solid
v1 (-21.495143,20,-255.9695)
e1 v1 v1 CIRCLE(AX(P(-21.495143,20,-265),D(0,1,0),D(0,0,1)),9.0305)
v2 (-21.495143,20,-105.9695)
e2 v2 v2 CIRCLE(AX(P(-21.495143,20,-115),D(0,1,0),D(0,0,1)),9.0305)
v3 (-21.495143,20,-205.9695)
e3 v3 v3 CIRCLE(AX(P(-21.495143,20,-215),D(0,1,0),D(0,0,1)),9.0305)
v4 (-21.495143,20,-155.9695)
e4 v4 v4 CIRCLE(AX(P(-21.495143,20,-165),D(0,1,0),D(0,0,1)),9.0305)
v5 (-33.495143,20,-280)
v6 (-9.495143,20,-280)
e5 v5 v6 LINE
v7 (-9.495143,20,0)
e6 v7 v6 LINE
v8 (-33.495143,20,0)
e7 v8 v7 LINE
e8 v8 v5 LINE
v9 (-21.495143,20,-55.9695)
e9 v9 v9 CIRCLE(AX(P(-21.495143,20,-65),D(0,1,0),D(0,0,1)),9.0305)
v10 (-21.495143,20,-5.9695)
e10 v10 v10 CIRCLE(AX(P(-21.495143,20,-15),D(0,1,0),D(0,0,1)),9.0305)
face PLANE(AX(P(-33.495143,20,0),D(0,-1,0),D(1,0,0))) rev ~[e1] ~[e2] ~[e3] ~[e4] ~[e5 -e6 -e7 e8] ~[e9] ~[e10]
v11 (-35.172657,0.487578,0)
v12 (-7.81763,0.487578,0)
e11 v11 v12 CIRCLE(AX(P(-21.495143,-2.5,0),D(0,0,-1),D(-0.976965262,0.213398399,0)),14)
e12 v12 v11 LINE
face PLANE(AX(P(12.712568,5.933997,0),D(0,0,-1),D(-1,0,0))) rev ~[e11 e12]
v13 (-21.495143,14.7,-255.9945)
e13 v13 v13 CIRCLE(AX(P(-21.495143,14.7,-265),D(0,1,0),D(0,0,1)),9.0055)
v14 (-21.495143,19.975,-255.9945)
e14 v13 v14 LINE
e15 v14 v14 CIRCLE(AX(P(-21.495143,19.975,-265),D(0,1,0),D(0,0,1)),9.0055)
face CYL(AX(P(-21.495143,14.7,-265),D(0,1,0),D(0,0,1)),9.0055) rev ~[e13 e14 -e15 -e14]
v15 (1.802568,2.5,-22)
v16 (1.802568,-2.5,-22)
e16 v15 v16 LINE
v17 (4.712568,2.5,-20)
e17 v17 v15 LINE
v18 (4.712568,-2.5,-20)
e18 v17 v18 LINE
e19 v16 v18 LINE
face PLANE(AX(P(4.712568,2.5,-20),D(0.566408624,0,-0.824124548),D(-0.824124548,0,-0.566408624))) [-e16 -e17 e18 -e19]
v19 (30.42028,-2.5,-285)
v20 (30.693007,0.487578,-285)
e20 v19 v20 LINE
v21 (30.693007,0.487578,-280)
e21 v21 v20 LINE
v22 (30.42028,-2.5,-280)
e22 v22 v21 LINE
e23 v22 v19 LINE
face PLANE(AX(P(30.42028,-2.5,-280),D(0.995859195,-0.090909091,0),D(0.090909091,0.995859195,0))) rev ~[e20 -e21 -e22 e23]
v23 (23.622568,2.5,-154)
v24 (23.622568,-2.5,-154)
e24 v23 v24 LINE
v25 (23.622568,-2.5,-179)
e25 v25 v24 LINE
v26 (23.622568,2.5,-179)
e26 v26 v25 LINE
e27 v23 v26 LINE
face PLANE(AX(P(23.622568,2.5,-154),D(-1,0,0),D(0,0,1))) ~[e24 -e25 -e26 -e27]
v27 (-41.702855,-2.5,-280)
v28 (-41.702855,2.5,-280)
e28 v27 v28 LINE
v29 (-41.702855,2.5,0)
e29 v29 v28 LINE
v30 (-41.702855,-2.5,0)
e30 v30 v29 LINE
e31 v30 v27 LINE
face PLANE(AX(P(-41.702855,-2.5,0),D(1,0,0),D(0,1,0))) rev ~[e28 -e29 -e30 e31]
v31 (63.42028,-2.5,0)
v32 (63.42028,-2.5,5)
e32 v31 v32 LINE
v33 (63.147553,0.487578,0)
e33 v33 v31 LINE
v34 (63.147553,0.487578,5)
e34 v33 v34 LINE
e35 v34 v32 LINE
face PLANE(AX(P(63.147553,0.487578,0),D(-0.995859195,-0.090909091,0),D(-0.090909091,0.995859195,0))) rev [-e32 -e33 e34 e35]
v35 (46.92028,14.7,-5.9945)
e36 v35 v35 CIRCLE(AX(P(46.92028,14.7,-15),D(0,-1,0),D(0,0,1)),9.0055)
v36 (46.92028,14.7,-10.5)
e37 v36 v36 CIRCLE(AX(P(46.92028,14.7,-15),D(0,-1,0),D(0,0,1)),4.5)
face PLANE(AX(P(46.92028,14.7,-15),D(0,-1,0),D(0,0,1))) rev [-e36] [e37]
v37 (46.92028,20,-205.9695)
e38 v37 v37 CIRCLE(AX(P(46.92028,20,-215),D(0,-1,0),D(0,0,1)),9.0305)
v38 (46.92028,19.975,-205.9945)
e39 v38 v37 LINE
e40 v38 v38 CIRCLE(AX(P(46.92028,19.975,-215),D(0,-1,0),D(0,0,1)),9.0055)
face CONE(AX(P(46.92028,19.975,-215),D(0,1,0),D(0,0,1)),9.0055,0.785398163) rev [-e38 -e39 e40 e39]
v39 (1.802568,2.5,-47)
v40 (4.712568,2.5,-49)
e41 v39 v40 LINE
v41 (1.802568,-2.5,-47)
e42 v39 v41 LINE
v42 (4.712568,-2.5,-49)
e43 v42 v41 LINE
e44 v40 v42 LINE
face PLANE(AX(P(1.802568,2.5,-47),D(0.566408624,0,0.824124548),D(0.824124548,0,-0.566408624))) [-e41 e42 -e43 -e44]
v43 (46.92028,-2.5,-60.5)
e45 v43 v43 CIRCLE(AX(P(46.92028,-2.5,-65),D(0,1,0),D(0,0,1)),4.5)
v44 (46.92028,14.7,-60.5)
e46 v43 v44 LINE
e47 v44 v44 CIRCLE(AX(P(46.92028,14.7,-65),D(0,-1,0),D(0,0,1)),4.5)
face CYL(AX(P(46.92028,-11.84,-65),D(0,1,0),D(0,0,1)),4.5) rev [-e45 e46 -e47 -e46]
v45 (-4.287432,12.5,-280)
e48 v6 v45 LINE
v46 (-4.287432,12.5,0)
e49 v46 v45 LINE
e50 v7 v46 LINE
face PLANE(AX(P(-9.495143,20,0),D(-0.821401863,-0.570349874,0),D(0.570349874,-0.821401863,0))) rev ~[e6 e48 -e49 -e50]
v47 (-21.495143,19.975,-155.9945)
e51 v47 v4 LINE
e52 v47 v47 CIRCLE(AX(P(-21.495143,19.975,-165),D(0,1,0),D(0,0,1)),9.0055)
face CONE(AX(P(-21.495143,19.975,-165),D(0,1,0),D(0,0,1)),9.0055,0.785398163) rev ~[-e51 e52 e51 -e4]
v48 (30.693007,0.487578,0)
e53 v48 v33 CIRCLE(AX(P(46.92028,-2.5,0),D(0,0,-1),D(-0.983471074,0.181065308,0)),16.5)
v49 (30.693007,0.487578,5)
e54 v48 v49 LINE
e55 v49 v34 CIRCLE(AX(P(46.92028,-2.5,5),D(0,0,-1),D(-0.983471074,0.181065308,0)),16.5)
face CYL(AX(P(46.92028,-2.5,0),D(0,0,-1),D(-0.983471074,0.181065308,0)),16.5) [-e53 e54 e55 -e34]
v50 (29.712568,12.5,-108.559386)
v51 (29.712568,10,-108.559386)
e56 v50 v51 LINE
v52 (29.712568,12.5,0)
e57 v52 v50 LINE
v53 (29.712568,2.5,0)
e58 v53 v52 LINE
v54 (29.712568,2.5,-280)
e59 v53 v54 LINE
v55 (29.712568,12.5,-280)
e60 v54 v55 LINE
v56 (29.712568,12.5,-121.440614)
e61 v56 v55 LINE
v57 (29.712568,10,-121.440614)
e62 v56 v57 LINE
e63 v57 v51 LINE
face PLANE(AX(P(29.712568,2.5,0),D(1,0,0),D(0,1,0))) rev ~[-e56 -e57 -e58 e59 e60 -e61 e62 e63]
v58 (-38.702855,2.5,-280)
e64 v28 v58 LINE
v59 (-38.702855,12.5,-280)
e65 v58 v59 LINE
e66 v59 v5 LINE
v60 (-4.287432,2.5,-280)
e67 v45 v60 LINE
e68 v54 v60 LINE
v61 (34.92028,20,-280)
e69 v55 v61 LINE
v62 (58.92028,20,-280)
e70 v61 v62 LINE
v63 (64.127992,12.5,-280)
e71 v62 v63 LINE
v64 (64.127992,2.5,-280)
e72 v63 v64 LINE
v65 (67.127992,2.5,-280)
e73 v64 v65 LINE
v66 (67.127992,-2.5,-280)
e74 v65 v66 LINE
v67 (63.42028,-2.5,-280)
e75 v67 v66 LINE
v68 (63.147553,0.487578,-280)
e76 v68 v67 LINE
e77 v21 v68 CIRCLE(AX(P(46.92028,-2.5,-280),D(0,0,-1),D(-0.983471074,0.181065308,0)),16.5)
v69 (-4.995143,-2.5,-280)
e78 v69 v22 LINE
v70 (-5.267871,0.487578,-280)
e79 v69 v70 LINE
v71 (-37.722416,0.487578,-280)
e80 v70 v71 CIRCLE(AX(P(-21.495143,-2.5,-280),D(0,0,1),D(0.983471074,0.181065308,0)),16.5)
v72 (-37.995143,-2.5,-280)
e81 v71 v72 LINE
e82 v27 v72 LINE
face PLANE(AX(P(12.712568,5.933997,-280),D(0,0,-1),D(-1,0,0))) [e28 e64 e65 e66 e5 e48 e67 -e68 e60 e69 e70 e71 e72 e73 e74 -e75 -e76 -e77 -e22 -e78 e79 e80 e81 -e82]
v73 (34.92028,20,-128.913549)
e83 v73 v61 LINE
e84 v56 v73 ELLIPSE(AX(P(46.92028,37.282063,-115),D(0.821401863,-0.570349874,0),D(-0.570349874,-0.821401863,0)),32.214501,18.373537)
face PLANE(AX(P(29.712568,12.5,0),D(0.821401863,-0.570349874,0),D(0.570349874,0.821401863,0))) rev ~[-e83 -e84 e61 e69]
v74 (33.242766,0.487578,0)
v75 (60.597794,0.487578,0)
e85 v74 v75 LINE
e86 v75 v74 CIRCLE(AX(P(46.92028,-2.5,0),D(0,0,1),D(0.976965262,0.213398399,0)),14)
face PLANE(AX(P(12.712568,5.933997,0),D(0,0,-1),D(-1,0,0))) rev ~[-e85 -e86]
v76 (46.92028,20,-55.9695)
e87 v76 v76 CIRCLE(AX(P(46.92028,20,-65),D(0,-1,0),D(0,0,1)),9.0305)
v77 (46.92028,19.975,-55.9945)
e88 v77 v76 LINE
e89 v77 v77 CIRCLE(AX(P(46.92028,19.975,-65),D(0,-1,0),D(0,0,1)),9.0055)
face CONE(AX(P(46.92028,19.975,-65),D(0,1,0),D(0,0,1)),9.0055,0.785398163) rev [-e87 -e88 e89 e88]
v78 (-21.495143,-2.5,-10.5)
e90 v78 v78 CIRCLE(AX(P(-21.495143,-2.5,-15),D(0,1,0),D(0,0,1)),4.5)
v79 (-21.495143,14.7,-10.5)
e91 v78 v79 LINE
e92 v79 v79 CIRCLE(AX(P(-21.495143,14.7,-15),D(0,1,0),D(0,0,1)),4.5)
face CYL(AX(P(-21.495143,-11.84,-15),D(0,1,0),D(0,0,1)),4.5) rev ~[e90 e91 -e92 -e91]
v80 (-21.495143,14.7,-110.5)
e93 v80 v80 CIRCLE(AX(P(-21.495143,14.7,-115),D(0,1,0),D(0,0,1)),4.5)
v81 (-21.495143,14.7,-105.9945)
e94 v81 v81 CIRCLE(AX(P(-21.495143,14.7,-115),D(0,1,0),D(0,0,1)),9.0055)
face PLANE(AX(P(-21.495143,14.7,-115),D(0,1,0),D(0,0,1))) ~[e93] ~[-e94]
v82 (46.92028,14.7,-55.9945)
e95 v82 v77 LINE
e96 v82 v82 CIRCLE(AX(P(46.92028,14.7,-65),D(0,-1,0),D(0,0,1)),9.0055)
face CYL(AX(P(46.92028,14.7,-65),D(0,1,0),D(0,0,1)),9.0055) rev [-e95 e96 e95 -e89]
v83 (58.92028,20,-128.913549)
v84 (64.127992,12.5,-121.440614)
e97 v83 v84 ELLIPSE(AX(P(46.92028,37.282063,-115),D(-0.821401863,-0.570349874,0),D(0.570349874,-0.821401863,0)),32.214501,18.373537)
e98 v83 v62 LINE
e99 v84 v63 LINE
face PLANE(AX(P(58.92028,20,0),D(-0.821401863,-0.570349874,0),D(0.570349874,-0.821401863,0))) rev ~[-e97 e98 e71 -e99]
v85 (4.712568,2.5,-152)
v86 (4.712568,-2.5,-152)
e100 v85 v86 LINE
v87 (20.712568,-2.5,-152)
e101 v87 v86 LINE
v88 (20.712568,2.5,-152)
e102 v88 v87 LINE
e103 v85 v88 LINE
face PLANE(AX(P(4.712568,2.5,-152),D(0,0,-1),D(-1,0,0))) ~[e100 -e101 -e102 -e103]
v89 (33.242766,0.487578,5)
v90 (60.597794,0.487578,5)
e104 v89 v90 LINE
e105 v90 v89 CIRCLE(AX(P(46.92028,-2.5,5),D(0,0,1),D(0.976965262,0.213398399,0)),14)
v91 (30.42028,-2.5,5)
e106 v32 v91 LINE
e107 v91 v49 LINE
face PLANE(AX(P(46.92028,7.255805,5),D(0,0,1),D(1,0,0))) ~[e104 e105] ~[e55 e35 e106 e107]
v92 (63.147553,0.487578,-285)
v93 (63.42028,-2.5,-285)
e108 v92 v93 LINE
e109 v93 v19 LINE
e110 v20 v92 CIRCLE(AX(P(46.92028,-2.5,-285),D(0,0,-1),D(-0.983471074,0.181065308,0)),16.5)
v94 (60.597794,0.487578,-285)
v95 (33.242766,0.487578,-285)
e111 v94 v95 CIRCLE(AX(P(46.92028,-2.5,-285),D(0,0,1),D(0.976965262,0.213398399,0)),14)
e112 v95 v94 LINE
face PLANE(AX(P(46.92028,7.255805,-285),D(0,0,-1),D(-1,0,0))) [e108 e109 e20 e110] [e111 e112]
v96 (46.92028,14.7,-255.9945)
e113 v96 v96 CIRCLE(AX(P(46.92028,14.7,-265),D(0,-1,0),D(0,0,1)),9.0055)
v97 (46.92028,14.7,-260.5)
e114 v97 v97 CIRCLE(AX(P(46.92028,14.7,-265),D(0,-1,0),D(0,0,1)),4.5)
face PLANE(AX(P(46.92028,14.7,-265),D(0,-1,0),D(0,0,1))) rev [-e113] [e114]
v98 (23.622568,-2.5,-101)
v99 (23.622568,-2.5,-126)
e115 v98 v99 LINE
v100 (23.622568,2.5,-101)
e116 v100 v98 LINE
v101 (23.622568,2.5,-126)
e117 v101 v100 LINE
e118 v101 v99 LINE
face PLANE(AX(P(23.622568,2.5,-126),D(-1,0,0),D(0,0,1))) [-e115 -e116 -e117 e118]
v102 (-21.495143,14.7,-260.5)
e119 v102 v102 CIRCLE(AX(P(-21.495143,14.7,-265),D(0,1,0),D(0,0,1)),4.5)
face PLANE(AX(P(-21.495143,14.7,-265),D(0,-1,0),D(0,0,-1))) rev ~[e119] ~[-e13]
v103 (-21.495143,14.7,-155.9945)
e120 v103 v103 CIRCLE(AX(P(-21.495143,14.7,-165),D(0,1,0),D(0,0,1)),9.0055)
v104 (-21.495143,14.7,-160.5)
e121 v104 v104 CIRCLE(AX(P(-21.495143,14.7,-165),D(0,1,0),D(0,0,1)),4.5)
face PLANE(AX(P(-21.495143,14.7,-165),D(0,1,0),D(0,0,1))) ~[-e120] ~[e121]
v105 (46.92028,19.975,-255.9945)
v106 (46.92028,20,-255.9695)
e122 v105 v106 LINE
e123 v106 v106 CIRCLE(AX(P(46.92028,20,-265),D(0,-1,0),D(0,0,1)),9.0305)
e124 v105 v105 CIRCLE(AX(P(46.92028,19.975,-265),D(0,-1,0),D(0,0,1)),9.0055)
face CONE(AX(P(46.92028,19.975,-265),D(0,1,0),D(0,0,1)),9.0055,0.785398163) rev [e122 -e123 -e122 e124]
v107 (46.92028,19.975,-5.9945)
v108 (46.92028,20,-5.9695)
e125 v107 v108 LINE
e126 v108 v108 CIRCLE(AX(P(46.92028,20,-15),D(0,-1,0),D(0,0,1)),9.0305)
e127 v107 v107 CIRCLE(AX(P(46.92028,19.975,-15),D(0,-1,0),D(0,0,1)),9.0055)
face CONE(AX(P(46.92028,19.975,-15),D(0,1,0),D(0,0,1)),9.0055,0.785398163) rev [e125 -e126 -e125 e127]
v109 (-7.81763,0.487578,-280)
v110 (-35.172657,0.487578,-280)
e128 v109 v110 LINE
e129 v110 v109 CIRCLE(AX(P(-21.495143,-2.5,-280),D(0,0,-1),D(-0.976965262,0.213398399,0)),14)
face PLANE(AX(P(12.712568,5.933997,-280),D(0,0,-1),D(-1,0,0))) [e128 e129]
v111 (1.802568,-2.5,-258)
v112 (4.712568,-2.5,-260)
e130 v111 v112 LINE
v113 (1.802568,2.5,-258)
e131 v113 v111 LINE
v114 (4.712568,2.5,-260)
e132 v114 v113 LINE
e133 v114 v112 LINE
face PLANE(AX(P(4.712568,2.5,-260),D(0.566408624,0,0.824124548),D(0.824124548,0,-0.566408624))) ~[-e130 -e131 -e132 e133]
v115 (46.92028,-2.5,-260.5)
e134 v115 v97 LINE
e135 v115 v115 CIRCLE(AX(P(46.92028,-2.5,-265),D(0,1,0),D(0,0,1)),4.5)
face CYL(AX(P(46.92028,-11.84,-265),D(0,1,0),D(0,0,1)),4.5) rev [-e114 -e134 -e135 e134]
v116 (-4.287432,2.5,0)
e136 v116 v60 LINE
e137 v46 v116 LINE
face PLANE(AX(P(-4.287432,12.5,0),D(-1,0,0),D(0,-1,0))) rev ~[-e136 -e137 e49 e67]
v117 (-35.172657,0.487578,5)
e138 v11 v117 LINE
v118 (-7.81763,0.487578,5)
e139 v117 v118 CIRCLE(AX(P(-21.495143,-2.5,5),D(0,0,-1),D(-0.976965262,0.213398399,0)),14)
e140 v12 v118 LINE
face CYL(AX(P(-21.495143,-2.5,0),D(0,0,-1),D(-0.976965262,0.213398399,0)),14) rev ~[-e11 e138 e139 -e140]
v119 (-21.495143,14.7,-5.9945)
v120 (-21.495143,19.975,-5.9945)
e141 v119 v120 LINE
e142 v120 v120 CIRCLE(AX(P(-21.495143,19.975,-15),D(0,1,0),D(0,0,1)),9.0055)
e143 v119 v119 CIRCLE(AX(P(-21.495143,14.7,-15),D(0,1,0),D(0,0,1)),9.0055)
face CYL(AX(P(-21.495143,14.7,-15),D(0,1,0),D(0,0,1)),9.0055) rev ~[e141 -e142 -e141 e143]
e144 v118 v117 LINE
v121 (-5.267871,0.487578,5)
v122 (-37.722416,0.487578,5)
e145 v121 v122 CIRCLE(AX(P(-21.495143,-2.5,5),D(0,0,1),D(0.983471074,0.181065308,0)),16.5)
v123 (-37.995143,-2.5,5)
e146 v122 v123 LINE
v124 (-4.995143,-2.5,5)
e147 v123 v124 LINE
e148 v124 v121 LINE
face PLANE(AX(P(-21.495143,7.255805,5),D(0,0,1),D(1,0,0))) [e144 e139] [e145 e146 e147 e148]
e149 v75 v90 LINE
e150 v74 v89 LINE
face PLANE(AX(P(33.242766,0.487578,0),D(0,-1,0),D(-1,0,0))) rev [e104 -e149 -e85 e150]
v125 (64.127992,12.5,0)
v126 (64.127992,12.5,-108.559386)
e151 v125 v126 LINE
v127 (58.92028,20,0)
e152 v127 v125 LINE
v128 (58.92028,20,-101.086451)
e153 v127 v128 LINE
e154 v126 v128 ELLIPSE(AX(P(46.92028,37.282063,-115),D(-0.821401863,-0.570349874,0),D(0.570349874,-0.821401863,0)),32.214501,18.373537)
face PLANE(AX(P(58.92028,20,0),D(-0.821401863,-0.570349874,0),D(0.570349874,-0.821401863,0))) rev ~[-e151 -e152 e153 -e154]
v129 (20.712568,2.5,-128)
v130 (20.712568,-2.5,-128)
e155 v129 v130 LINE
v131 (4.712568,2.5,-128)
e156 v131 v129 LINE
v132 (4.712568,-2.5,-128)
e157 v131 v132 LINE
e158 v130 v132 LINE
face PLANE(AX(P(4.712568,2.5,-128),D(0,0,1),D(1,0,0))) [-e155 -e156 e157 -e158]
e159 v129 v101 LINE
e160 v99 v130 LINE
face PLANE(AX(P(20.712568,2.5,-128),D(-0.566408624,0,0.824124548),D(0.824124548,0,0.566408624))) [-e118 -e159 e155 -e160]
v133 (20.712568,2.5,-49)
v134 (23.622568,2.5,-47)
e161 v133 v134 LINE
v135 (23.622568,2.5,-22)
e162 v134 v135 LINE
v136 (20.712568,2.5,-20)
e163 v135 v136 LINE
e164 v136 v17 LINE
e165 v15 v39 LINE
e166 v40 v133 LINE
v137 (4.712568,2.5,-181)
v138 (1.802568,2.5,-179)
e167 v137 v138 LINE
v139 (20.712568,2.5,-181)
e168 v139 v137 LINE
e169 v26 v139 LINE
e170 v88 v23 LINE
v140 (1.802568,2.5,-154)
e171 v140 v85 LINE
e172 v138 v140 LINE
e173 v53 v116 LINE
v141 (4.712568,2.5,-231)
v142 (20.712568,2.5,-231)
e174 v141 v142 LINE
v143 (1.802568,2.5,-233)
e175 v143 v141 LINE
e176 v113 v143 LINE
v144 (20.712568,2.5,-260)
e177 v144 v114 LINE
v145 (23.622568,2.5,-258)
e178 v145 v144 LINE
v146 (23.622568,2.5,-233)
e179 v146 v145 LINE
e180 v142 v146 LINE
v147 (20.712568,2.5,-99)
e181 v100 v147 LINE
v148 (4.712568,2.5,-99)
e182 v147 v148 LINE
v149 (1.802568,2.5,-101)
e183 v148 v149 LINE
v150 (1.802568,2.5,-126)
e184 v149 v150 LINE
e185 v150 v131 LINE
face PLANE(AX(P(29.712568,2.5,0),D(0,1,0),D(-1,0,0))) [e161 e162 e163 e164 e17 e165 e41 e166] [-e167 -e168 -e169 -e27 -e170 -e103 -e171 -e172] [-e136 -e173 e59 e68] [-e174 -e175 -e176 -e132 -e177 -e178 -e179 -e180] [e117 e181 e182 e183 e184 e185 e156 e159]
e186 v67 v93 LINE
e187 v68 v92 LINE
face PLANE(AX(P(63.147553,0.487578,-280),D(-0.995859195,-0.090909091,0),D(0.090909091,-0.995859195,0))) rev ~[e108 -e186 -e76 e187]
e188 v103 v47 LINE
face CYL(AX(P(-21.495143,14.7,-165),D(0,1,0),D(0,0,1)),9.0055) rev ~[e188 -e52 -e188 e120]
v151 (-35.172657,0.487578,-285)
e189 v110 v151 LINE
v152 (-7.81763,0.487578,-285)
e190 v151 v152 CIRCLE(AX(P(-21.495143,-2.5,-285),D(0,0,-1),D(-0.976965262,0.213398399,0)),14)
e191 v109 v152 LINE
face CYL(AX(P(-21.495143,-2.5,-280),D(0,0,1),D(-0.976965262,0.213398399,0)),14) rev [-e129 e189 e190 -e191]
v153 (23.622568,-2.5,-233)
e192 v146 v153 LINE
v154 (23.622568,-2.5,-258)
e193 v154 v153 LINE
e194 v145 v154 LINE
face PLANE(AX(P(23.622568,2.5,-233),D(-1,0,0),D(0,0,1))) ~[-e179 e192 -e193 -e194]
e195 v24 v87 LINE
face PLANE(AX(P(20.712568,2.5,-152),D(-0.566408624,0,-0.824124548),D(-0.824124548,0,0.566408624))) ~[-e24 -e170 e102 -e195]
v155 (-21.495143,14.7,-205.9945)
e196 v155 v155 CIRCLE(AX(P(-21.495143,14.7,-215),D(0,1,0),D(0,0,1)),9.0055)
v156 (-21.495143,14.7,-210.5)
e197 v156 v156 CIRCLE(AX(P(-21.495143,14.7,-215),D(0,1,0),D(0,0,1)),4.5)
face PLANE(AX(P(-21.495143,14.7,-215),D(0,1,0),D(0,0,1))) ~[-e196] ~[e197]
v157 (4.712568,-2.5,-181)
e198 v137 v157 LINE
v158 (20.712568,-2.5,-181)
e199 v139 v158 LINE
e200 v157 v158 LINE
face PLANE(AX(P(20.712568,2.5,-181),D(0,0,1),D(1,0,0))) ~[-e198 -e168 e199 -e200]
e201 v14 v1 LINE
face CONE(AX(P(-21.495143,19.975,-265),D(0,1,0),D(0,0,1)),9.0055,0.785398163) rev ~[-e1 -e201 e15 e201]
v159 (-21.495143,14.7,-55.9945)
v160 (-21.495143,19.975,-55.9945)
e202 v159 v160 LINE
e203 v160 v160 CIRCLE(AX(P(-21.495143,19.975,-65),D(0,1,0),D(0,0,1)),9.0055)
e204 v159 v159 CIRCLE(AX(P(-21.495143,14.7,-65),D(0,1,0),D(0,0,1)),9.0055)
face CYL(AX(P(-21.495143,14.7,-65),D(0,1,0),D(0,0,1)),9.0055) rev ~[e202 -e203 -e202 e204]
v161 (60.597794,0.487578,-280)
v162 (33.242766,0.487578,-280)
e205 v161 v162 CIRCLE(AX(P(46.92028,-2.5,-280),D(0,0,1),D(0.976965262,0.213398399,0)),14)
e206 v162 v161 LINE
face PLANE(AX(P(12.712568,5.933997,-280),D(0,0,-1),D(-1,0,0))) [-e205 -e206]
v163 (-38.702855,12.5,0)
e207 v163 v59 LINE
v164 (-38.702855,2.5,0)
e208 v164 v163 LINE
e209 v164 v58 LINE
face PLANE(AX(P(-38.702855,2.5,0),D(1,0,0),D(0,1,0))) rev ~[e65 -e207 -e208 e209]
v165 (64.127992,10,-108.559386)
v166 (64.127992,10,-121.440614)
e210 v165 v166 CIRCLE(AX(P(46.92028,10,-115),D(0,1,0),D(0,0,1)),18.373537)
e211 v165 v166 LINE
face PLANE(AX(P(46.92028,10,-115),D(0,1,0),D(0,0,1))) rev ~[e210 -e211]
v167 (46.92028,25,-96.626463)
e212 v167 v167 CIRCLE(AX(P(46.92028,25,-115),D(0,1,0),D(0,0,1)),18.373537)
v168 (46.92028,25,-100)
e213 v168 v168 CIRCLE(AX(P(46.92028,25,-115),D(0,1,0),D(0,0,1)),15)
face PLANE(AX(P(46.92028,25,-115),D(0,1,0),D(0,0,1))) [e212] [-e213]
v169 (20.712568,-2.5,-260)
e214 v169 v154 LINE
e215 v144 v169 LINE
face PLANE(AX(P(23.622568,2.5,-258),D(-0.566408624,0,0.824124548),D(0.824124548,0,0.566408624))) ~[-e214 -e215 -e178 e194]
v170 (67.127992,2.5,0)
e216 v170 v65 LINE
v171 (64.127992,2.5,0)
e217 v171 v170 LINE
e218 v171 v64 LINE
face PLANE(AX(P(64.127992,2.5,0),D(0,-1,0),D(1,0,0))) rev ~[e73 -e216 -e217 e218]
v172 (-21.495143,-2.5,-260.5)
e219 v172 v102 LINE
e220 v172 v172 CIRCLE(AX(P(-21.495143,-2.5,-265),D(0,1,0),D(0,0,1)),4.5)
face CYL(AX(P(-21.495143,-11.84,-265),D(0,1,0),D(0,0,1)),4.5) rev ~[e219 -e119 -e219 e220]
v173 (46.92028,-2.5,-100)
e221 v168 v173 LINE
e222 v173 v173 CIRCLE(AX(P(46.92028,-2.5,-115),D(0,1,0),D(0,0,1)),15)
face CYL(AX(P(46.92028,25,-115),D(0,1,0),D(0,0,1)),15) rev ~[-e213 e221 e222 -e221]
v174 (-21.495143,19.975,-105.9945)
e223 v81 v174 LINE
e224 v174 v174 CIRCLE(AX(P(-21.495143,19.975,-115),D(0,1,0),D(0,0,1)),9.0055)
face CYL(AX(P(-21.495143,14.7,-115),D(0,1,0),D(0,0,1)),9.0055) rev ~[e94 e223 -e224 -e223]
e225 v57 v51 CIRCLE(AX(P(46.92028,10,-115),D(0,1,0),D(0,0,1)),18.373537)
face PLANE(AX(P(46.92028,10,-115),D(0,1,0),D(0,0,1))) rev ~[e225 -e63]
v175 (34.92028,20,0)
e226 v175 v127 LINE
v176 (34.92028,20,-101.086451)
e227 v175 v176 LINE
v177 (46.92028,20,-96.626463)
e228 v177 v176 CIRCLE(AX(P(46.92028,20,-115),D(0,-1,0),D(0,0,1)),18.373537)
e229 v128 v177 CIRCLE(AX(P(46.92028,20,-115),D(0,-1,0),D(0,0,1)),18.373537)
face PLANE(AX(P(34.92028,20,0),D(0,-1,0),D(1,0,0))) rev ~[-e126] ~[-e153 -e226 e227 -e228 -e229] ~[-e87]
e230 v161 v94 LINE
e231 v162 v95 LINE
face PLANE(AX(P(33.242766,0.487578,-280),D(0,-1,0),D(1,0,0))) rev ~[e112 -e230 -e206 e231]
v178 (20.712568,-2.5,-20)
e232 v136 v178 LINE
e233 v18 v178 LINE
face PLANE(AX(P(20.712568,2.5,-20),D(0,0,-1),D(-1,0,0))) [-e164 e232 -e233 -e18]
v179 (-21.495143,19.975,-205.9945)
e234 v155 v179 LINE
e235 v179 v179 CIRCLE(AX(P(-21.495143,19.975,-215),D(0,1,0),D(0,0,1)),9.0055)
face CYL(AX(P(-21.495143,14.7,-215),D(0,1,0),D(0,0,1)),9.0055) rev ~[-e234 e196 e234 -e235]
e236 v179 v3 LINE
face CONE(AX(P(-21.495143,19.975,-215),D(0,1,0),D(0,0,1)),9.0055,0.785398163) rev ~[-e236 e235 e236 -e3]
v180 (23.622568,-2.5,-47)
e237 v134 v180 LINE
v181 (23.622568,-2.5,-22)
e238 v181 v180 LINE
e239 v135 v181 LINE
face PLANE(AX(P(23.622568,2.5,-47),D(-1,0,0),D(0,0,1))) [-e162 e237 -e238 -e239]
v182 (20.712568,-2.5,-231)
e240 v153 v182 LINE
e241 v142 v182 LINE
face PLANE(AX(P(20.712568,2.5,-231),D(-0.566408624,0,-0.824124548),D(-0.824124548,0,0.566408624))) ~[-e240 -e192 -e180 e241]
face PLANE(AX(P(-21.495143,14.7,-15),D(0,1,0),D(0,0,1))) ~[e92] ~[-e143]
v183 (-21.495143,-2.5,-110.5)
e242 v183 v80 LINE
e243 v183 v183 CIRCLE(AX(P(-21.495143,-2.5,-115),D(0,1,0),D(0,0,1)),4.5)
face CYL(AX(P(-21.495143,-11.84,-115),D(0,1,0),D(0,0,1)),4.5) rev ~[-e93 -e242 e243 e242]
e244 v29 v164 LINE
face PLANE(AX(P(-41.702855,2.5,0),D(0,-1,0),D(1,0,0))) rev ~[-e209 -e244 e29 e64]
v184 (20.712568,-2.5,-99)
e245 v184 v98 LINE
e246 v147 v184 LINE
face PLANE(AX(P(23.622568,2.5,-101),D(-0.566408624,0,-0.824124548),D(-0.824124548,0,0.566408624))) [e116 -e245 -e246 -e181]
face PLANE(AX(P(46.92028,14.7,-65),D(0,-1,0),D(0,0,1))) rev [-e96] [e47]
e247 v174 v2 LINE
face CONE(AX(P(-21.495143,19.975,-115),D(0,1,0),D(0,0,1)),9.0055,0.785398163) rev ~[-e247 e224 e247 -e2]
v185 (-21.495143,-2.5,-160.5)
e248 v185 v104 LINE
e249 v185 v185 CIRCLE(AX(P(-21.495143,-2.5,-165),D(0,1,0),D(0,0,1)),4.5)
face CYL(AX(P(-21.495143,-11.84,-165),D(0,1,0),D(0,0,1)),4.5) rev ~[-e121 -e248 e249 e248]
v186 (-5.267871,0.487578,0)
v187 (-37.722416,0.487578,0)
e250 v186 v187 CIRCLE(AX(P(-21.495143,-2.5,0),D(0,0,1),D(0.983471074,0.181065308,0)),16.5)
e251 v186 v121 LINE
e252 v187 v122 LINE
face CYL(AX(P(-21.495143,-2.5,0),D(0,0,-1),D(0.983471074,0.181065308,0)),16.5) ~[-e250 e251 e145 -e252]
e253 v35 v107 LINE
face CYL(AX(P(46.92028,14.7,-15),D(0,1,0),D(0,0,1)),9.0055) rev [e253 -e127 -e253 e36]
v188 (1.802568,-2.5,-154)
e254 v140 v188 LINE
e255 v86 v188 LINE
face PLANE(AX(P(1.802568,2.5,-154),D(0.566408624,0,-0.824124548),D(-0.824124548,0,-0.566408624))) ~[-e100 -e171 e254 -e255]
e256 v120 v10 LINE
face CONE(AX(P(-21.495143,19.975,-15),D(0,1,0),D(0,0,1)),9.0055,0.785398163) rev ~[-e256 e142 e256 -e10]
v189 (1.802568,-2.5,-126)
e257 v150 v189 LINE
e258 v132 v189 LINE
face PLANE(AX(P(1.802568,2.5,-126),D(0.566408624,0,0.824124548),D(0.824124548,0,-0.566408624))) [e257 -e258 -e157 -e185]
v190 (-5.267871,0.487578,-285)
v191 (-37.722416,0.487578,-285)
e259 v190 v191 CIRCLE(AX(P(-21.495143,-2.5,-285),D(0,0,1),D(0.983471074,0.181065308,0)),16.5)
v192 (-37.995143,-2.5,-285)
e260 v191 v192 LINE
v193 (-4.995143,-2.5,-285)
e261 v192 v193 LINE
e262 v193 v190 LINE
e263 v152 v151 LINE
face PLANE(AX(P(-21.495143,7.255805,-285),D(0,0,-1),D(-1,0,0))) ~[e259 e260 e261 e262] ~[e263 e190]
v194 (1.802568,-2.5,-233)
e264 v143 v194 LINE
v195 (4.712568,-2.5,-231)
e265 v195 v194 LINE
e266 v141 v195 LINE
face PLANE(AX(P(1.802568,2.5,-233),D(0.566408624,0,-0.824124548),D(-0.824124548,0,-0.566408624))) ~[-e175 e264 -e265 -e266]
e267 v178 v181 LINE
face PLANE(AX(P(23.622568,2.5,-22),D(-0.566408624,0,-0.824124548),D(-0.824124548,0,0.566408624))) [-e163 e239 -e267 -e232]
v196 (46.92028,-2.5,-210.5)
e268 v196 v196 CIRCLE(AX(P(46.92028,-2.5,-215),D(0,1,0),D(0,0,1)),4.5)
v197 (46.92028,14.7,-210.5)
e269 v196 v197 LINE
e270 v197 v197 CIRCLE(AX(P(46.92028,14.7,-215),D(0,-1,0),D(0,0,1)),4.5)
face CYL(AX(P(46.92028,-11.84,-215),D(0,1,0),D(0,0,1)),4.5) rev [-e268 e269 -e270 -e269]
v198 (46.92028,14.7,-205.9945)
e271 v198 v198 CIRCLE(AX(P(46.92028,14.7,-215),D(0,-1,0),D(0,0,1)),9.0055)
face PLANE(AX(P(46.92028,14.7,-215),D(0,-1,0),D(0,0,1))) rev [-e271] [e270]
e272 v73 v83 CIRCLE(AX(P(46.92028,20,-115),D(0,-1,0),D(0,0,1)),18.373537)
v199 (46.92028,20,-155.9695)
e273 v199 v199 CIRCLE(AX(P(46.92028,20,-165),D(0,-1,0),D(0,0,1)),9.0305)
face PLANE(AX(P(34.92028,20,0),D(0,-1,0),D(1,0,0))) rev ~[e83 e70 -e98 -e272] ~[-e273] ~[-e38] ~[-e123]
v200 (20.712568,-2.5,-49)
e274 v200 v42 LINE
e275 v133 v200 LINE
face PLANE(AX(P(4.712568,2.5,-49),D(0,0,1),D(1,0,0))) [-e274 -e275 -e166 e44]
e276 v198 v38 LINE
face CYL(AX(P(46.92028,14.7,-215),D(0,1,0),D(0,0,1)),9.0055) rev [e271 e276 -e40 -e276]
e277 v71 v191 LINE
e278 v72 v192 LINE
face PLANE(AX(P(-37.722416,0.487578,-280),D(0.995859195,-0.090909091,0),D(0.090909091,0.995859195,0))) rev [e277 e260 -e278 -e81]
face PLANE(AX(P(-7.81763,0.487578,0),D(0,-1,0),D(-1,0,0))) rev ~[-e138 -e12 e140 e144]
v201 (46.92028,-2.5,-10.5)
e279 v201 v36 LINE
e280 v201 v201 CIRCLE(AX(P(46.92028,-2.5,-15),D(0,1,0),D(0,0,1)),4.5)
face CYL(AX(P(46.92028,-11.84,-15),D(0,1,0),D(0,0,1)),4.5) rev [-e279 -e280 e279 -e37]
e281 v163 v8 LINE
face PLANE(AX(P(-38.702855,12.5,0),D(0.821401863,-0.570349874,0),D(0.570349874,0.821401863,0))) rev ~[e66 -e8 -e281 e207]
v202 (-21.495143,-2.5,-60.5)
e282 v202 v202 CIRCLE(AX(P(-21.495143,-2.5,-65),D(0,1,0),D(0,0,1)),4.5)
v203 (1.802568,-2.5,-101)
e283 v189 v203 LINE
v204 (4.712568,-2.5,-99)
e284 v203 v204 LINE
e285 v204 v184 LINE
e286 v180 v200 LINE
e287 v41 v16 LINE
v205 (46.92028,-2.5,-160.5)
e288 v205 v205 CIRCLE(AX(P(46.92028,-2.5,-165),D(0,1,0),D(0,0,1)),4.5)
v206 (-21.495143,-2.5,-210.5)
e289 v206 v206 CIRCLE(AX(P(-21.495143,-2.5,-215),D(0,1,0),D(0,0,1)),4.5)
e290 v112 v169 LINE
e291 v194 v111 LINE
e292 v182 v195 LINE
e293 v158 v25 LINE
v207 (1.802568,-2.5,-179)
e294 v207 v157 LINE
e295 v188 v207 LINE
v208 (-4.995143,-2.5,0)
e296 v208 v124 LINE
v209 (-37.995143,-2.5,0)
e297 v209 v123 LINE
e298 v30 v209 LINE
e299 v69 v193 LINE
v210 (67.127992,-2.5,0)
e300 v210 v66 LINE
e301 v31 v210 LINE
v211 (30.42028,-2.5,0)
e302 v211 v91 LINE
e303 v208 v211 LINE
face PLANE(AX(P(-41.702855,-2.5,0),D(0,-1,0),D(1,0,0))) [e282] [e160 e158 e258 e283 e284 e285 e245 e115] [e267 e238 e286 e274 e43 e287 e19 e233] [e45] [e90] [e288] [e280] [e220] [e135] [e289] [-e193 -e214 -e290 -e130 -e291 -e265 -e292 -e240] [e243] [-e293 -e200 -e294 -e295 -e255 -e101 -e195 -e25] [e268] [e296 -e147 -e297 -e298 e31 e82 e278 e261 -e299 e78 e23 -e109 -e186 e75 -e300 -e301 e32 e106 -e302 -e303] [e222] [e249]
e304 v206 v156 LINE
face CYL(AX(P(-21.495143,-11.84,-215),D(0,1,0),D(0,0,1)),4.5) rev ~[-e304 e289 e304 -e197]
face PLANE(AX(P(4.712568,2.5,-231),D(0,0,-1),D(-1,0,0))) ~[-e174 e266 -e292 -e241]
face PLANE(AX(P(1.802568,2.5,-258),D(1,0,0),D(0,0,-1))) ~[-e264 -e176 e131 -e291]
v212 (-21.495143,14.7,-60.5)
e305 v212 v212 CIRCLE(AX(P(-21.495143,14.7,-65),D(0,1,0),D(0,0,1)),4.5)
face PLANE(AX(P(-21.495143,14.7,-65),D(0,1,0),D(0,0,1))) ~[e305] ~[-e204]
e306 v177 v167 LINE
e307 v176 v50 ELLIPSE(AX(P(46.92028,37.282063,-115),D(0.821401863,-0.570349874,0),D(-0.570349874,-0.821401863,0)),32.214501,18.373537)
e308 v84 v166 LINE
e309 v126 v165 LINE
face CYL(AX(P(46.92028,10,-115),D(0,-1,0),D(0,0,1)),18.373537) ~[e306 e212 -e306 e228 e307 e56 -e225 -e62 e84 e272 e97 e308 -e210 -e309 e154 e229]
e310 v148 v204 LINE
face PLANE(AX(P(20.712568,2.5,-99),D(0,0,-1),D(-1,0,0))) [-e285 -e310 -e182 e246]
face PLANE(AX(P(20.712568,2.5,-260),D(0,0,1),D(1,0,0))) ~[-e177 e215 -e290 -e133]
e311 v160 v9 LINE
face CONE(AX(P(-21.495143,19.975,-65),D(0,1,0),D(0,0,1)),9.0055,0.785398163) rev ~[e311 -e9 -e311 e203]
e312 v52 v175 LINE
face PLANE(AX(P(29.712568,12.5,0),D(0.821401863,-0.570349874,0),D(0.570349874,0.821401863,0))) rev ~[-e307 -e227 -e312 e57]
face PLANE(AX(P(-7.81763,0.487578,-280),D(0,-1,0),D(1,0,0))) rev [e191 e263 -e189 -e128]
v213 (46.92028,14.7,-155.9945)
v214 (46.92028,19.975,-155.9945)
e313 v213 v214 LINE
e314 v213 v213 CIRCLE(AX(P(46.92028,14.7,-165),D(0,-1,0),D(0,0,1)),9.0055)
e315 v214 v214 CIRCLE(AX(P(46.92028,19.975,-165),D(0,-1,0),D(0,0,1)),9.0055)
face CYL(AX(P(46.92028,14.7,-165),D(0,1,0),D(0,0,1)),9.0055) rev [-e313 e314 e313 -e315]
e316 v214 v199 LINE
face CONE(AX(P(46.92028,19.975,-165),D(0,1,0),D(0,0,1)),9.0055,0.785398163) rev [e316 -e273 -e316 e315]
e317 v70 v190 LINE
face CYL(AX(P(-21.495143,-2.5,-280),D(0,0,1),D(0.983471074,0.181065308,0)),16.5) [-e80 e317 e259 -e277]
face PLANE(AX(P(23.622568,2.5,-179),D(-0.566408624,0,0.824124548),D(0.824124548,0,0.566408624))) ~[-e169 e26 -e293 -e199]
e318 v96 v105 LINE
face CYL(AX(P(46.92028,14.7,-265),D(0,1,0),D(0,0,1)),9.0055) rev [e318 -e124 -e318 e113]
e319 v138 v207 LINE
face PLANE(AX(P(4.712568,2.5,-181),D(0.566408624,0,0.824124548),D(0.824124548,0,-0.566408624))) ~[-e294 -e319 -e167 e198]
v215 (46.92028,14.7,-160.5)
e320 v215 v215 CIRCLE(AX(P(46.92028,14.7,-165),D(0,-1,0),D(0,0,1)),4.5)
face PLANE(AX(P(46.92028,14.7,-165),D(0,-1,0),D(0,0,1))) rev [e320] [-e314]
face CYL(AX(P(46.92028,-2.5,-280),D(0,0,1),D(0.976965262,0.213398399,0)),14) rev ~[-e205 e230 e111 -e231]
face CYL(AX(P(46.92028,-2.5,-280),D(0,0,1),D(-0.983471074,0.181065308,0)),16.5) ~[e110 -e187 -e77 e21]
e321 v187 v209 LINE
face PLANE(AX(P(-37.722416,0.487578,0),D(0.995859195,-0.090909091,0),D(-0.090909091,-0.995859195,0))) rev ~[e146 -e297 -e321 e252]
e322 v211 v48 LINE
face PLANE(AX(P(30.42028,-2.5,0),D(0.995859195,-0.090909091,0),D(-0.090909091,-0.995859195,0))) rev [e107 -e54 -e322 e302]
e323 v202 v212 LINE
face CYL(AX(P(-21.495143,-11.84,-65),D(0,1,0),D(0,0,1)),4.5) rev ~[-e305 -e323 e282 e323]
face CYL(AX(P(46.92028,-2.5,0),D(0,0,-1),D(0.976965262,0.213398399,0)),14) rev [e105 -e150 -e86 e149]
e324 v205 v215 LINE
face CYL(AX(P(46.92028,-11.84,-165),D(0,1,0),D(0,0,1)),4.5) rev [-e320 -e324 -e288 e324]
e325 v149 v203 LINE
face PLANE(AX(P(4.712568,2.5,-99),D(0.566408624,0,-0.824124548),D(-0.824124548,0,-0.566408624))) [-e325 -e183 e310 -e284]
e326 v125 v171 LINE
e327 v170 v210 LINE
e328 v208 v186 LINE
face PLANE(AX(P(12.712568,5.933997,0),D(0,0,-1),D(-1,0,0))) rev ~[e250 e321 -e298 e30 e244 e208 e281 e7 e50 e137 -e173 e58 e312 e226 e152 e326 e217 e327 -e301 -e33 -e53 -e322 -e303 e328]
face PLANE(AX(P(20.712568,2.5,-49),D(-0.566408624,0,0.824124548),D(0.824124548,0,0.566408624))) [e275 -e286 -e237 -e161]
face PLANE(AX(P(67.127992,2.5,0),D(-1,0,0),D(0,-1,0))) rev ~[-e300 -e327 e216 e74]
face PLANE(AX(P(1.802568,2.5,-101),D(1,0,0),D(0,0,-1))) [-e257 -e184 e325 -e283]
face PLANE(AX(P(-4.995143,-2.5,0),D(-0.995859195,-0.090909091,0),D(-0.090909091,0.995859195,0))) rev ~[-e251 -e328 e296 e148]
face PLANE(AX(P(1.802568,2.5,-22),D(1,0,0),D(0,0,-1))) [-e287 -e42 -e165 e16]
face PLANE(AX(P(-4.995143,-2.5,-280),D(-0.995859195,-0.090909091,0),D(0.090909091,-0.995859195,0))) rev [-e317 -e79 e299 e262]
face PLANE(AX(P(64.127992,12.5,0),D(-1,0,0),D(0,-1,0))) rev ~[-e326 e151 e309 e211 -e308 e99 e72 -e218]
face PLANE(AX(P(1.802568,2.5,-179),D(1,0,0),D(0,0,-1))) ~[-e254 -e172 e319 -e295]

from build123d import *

# Parameters (mm, degrees)
BOSS_EXTRUDE1_DEPTH                         = 280
BOSS_EXTRUDE3_DEPTH                         = 5
MIRROR2_COPY_1_DEPTH                        = 5
CBORE_SLOT_FOR_M8_HEX_HEAD_BOLT1_AT_2_COUNT = 2
CBORE_SLOT_FOR_M8_HEX_HEAD_BOLT1_AT_2_PITCH = 50
CBORE_SLOT_FOR_M8_HEX_HEAD_BOLT1_AT_3_COUNT = 2
CBORE_SLOT_FOR_M8_HEX_HEAD_BOLT1_AT_3_PITCH = 100
CBORE_SLOT_FOR_M8_HEX_HEAD_BOLT1_AT_4_COUNT = 2
CBORE_SLOT_FOR_M8_HEX_HEAD_BOLT1_AT_4_PITCH = 150
CBORE_SLOT_FOR_M8_HEX_HEAD_BOLT1_AT_5_COUNT = 2
CBORE_SLOT_FOR_M8_HEX_HEAD_BOLT1_AT_5_PITCH = 200
CBORE_SLOT_FOR_M8_HEX_HEAD_BOLT1_AT_6_COUNT = 2
CBORE_SLOT_FOR_M8_HEX_HEAD_BOLT1_AT_6_PITCH = 250
BOSS_EXTRUDE4_DEPTH                         = 5
BOSS_EXTRUDE4_DEPTH_BACK                    = 10
SKETCH12_R                                  = 18.373536693
SKETCH14_R                                  = 15
CUT_EXTRUDE1_DEPTH                          = 28
CUT_EXTRUDE2_DEPTH                          = 294.662080045


with BuildPart() as part:
    # Sketch4 → Boss-Extrude1 (new body)
    with BuildSketch(Plane.XY):
        Polygon((-41.702855028, 2.5), (-38.702855028, 2.5), (-38.702855028, 12.5), (-33.495143371, 20), (-9.495143371, 20), (-4.287431713, 12.5), (-4.287431713, 2.5), (-1.287431713, 2.5), (26.712568287, 2.5), (29.712568287, 2.5), (29.712568287, 12.5), (34.920279944, 20), (58.920279944, 20), (64.127991602, 12.5), (64.127991602, 2.5), (67.127991602, 2.5), (67.127991602, -2.5), (26.712568287, -2.5), (-1.287431713, -2.5), (-41.702855028, -2.5), align=None)
    extrude(amount=-BOSS_EXTRUDE1_DEPTH)

    # Sketch5 → Boss-Extrude3 (add)
    with BuildSketch(Plane.XY):
        with BuildLine():
            ThreePointArc((-5.267870643, 0.487577586), (-21.495143371, 14), (-37.722416098, 0.487577586))
            Line((-37.722416098, 0.487577586), (-35.17265704, 0.487577586))
            ThreePointArc((-35.17265704, 0.487577586), (-21.495143371, 11.5), (-7.817629702, 0.487577586))
            Line((-7.817629702, 0.487577586), (-5.267870643, 0.487577586))
        make_face()
        Polygon((-37.722416098, 0.487577586), (-37.995143371, -2.5), (-4.995143371, -2.5), (-5.267870643, 0.487577586), (-7.817629702, 0.487577586), (-35.17265704, 0.487577586), align=None)
    boss_extrude3 = extrude(amount=BOSS_EXTRUDE3_DEPTH)

    # Mirror1: Boss-Extrude3 across plane
    add(boss_extrude3.mirror(Plane.ZY.offset(-12.712568287)))

    # Mirror2: Boss-Extrude3 across plane
    add(boss_extrude3.mirror(Plane.XY.offset(-140)))

    # Mirror2 copy 1 sketch → Mirror2 copy 1 (add)
    with BuildSketch(Plane(origin=(25.425136574, 0, -280), x_dir=(-1, 0, 0), z_dir=(0, 0, -1))):
        with BuildLine():
            ThreePointArc((-5.267870643, 0.487577586), (-21.495143371, 14), (-37.722416098, 0.487577586))
            Line((-37.722416098, 0.487577586), (-35.17265704, 0.487577586))
            ThreePointArc((-35.17265704, 0.487577586), (-21.495143371, 11.5), (-7.817629702, 0.487577586))
            Line((-7.817629702, 0.487577586), (-5.267870643, 0.487577586))
        make_face()
        Polygon((-37.722416098, 0.487577586), (-37.995143371, -2.5), (-4.995143371, -2.5), (-5.267870643, 0.487577586), (-7.817629702, 0.487577586), (-35.17265704, 0.487577586), align=None)
    extrude(amount=MIRROR2_COPY_1_DEPTH)

    # Sketch10 → CBORE SLOT for M8 Hex Head Bolt1 (revolve, cut)
    with BuildSketch(Plane(origin=(46.920279944, 20, -265), x_dir=(0, 0, 1), z_dir=(1, 0, 0))):
        Polygon((0, 0), (0, 34.543872786), (4.5, 31.84), (4.5, 5.3), (9.0055, 5.3), (9.0055, 0.025), (9.0305, 0), align=None)
    cbore_slot_for_m8_hex_head_bolt1 = revolve(axis=Axis((46.920279944, 26.35, -265), (0, -1, 0)), mode=Mode.SUBTRACT)

    # CBORE SLOT for M8 Hex Head Bolt1 at 2: CBORE SLOT for M8 Hex Head Bolt1 ×2
    with Locations(*[(0, 0, i * CBORE_SLOT_FOR_M8_HEX_HEAD_BOLT1_AT_2_PITCH) for i in range(1, CBORE_SLOT_FOR_M8_HEX_HEAD_BOLT1_AT_2_COUNT)]):
        add(cbore_slot_for_m8_hex_head_bolt1, mode=Mode.SUBTRACT)

    # CBORE SLOT for M8 Hex Head Bolt1 at 3: CBORE SLOT for M8 Hex Head Bolt1 ×2
    with Locations(*[(0, 0, i * CBORE_SLOT_FOR_M8_HEX_HEAD_BOLT1_AT_3_PITCH) for i in range(1, CBORE_SLOT_FOR_M8_HEX_HEAD_BOLT1_AT_3_COUNT)]):
        add(cbore_slot_for_m8_hex_head_bolt1, mode=Mode.SUBTRACT)

    # CBORE SLOT for M8 Hex Head Bolt1 at 4: CBORE SLOT for M8 Hex Head Bolt1 ×2
    with Locations(*[(0, 0, i * CBORE_SLOT_FOR_M8_HEX_HEAD_BOLT1_AT_4_PITCH) for i in range(1, CBORE_SLOT_FOR_M8_HEX_HEAD_BOLT1_AT_4_COUNT)]):
        add(cbore_slot_for_m8_hex_head_bolt1, mode=Mode.SUBTRACT)

    # CBORE SLOT for M8 Hex Head Bolt1 at 5: CBORE SLOT for M8 Hex Head Bolt1 ×2
    with Locations(*[(0, 0, i * CBORE_SLOT_FOR_M8_HEX_HEAD_BOLT1_AT_5_PITCH) for i in range(1, CBORE_SLOT_FOR_M8_HEX_HEAD_BOLT1_AT_5_COUNT)]):
        add(cbore_slot_for_m8_hex_head_bolt1, mode=Mode.SUBTRACT)

    # CBORE SLOT for M8 Hex Head Bolt1 at 6: CBORE SLOT for M8 Hex Head Bolt1 ×2
    with Locations(*[(0, 0, i * CBORE_SLOT_FOR_M8_HEX_HEAD_BOLT1_AT_6_PITCH) for i in range(1, CBORE_SLOT_FOR_M8_HEX_HEAD_BOLT1_AT_6_COUNT)]):
        add(cbore_slot_for_m8_hex_head_bolt1, mode=Mode.SUBTRACT)

    # Mirror3: CBORE SLOT for M8 Hex Head Bolt1 across plane
    add(cbore_slot_for_m8_hex_head_bolt1.mirror(Plane.ZY.offset(-12.712568287)), mode=Mode.SUBTRACT)

    # Mirror3 copy 1 sketch → Mirror3 copy 1 (revolve, cut)
    with BuildSketch(Plane(origin=(-21.495143371, 20, -215), x_dir=(0, 0, 1), z_dir=(-1, 0, 0))):
        Polygon((0, 0), (0, -34.543872786), (4.5, -31.84), (4.5, -5.3), (9.0055, -5.3), (9.0055, -0.025), (9.0305, 0), align=None)
    revolve(axis=Axis((-21.495143371, 26.35, -215), (0, 1, 0)), mode=Mode.SUBTRACT)

    # Mirror3 copy 2 sketch → Mirror3 copy 2 (revolve, cut)
    with BuildSketch(Plane(origin=(-21.495143371, 20, -165), x_dir=(0, 0, 1), z_dir=(-1, 0, 0))):
        Polygon((0, 0), (0, -34.543872786), (4.5, -31.84), (4.5, -5.3), (9.0055, -5.3), (9.0055, -0.025), (9.0305, 0), align=None)
    revolve(axis=Axis((-21.495143371, 26.35, -165), (0, 1, 0)), mode=Mode.SUBTRACT)

    # Mirror3 copy 3 sketch → Mirror3 copy 3 (revolve, cut)
    with BuildSketch(Plane(origin=(-21.495143371, 20, -115), x_dir=(0, 0, 1), z_dir=(-1, 0, 0))):
        Polygon((0, 0), (0, -34.543872786), (4.5, -31.84), (4.5, -5.3), (9.0055, -5.3), (9.0055, -0.025), (9.0305, 0), align=None)
    revolve(axis=Axis((-21.495143371, 26.35, -115), (0, 1, 0)), mode=Mode.SUBTRACT)

    # Mirror3 copy 4 sketch → Mirror3 copy 4 (revolve, cut)
    with BuildSketch(Plane(origin=(-21.495143371, 20, -65), x_dir=(0, 0, 1), z_dir=(-1, 0, 0))):
        Polygon((0, 0), (0, -34.543872786), (4.5, -31.84), (4.5, -5.3), (9.0055, -5.3), (9.0055, -0.025), (9.0305, 0), align=None)
    revolve(axis=Axis((-21.495143371, 26.35, -65), (0, 1, 0)), mode=Mode.SUBTRACT)

    # Mirror3 copy 5 sketch → Mirror3 copy 5 (revolve, cut)
    with BuildSketch(Plane(origin=(-21.495143371, 20, -15), x_dir=(0, 0, 1), z_dir=(-1, 0, 0))):
        Polygon((0, 0), (0, -34.543872786), (4.5, -31.84), (4.5, -5.3), (9.0055, -5.3), (9.0055, -0.025), (9.0305, 0), align=None)
    revolve(axis=Axis((-21.495143371, 26.35, -15), (0, 1, 0)), mode=Mode.SUBTRACT)

    # Sketch12 → Boss-Extrude4 (add, two sides: drawn at the far end of the back side and taken through both)
    with BuildSketch(Plane(origin=(0, 20, 0), x_dir=(1, 0, 0), z_dir=(0, 1, 0)).offset(-BOSS_EXTRUDE4_DEPTH_BACK)):
        with Locations(Location((46.920279944, 115, 0), (0, 0, 270))):
            Circle(SKETCH12_R)
    extrude(amount=BOSS_EXTRUDE4_DEPTH + BOSS_EXTRUDE4_DEPTH_BACK)

    # Sketch14 → Cut-Extrude1 (cut)
    with BuildSketch(Plane(origin=(0, 25, 0), x_dir=(1, 0, 0), z_dir=(0, 1, 0))):
        with Locations(Location((46.920279944, 115, 0), (0, 0, 270))):
            Circle(SKETCH14_R)
    extrude(amount=-CUT_EXTRUDE1_DEPTH, mode=Mode.SUBTRACT)

    # Sketch16 → Cut-Extrude2 (cut, through all)
    with BuildSketch(Plane(origin=(0, 2.5, 0), x_dir=(1, 0, 0), z_dir=(0, 1, 0))):
        Polygon((20.712568287, 20), (4.712568287, 20), (1.802568287, 22), (1.802568287, 47), (4.712568287, 49), (20.712568287, 49), (23.622568287, 47), (23.622568287, 22), align=None)
        Polygon((23.622568287, 101), (20.712568287, 99), (4.712568287, 99), (1.802568287, 101), (1.802568287, 126), (4.712568287, 128), (20.712568287, 128), (23.622568287, 126), align=None)
    cut_extrude2 = extrude(amount=-CUT_EXTRUDE2_DEPTH, mode=Mode.SUBTRACT)

    # Mirror4: Cut-Extrude2 across plane
    add(cut_extrude2.mirror(Plane.XY.offset(-140)), mode=Mode.SUBTRACT)


solid = part.part
